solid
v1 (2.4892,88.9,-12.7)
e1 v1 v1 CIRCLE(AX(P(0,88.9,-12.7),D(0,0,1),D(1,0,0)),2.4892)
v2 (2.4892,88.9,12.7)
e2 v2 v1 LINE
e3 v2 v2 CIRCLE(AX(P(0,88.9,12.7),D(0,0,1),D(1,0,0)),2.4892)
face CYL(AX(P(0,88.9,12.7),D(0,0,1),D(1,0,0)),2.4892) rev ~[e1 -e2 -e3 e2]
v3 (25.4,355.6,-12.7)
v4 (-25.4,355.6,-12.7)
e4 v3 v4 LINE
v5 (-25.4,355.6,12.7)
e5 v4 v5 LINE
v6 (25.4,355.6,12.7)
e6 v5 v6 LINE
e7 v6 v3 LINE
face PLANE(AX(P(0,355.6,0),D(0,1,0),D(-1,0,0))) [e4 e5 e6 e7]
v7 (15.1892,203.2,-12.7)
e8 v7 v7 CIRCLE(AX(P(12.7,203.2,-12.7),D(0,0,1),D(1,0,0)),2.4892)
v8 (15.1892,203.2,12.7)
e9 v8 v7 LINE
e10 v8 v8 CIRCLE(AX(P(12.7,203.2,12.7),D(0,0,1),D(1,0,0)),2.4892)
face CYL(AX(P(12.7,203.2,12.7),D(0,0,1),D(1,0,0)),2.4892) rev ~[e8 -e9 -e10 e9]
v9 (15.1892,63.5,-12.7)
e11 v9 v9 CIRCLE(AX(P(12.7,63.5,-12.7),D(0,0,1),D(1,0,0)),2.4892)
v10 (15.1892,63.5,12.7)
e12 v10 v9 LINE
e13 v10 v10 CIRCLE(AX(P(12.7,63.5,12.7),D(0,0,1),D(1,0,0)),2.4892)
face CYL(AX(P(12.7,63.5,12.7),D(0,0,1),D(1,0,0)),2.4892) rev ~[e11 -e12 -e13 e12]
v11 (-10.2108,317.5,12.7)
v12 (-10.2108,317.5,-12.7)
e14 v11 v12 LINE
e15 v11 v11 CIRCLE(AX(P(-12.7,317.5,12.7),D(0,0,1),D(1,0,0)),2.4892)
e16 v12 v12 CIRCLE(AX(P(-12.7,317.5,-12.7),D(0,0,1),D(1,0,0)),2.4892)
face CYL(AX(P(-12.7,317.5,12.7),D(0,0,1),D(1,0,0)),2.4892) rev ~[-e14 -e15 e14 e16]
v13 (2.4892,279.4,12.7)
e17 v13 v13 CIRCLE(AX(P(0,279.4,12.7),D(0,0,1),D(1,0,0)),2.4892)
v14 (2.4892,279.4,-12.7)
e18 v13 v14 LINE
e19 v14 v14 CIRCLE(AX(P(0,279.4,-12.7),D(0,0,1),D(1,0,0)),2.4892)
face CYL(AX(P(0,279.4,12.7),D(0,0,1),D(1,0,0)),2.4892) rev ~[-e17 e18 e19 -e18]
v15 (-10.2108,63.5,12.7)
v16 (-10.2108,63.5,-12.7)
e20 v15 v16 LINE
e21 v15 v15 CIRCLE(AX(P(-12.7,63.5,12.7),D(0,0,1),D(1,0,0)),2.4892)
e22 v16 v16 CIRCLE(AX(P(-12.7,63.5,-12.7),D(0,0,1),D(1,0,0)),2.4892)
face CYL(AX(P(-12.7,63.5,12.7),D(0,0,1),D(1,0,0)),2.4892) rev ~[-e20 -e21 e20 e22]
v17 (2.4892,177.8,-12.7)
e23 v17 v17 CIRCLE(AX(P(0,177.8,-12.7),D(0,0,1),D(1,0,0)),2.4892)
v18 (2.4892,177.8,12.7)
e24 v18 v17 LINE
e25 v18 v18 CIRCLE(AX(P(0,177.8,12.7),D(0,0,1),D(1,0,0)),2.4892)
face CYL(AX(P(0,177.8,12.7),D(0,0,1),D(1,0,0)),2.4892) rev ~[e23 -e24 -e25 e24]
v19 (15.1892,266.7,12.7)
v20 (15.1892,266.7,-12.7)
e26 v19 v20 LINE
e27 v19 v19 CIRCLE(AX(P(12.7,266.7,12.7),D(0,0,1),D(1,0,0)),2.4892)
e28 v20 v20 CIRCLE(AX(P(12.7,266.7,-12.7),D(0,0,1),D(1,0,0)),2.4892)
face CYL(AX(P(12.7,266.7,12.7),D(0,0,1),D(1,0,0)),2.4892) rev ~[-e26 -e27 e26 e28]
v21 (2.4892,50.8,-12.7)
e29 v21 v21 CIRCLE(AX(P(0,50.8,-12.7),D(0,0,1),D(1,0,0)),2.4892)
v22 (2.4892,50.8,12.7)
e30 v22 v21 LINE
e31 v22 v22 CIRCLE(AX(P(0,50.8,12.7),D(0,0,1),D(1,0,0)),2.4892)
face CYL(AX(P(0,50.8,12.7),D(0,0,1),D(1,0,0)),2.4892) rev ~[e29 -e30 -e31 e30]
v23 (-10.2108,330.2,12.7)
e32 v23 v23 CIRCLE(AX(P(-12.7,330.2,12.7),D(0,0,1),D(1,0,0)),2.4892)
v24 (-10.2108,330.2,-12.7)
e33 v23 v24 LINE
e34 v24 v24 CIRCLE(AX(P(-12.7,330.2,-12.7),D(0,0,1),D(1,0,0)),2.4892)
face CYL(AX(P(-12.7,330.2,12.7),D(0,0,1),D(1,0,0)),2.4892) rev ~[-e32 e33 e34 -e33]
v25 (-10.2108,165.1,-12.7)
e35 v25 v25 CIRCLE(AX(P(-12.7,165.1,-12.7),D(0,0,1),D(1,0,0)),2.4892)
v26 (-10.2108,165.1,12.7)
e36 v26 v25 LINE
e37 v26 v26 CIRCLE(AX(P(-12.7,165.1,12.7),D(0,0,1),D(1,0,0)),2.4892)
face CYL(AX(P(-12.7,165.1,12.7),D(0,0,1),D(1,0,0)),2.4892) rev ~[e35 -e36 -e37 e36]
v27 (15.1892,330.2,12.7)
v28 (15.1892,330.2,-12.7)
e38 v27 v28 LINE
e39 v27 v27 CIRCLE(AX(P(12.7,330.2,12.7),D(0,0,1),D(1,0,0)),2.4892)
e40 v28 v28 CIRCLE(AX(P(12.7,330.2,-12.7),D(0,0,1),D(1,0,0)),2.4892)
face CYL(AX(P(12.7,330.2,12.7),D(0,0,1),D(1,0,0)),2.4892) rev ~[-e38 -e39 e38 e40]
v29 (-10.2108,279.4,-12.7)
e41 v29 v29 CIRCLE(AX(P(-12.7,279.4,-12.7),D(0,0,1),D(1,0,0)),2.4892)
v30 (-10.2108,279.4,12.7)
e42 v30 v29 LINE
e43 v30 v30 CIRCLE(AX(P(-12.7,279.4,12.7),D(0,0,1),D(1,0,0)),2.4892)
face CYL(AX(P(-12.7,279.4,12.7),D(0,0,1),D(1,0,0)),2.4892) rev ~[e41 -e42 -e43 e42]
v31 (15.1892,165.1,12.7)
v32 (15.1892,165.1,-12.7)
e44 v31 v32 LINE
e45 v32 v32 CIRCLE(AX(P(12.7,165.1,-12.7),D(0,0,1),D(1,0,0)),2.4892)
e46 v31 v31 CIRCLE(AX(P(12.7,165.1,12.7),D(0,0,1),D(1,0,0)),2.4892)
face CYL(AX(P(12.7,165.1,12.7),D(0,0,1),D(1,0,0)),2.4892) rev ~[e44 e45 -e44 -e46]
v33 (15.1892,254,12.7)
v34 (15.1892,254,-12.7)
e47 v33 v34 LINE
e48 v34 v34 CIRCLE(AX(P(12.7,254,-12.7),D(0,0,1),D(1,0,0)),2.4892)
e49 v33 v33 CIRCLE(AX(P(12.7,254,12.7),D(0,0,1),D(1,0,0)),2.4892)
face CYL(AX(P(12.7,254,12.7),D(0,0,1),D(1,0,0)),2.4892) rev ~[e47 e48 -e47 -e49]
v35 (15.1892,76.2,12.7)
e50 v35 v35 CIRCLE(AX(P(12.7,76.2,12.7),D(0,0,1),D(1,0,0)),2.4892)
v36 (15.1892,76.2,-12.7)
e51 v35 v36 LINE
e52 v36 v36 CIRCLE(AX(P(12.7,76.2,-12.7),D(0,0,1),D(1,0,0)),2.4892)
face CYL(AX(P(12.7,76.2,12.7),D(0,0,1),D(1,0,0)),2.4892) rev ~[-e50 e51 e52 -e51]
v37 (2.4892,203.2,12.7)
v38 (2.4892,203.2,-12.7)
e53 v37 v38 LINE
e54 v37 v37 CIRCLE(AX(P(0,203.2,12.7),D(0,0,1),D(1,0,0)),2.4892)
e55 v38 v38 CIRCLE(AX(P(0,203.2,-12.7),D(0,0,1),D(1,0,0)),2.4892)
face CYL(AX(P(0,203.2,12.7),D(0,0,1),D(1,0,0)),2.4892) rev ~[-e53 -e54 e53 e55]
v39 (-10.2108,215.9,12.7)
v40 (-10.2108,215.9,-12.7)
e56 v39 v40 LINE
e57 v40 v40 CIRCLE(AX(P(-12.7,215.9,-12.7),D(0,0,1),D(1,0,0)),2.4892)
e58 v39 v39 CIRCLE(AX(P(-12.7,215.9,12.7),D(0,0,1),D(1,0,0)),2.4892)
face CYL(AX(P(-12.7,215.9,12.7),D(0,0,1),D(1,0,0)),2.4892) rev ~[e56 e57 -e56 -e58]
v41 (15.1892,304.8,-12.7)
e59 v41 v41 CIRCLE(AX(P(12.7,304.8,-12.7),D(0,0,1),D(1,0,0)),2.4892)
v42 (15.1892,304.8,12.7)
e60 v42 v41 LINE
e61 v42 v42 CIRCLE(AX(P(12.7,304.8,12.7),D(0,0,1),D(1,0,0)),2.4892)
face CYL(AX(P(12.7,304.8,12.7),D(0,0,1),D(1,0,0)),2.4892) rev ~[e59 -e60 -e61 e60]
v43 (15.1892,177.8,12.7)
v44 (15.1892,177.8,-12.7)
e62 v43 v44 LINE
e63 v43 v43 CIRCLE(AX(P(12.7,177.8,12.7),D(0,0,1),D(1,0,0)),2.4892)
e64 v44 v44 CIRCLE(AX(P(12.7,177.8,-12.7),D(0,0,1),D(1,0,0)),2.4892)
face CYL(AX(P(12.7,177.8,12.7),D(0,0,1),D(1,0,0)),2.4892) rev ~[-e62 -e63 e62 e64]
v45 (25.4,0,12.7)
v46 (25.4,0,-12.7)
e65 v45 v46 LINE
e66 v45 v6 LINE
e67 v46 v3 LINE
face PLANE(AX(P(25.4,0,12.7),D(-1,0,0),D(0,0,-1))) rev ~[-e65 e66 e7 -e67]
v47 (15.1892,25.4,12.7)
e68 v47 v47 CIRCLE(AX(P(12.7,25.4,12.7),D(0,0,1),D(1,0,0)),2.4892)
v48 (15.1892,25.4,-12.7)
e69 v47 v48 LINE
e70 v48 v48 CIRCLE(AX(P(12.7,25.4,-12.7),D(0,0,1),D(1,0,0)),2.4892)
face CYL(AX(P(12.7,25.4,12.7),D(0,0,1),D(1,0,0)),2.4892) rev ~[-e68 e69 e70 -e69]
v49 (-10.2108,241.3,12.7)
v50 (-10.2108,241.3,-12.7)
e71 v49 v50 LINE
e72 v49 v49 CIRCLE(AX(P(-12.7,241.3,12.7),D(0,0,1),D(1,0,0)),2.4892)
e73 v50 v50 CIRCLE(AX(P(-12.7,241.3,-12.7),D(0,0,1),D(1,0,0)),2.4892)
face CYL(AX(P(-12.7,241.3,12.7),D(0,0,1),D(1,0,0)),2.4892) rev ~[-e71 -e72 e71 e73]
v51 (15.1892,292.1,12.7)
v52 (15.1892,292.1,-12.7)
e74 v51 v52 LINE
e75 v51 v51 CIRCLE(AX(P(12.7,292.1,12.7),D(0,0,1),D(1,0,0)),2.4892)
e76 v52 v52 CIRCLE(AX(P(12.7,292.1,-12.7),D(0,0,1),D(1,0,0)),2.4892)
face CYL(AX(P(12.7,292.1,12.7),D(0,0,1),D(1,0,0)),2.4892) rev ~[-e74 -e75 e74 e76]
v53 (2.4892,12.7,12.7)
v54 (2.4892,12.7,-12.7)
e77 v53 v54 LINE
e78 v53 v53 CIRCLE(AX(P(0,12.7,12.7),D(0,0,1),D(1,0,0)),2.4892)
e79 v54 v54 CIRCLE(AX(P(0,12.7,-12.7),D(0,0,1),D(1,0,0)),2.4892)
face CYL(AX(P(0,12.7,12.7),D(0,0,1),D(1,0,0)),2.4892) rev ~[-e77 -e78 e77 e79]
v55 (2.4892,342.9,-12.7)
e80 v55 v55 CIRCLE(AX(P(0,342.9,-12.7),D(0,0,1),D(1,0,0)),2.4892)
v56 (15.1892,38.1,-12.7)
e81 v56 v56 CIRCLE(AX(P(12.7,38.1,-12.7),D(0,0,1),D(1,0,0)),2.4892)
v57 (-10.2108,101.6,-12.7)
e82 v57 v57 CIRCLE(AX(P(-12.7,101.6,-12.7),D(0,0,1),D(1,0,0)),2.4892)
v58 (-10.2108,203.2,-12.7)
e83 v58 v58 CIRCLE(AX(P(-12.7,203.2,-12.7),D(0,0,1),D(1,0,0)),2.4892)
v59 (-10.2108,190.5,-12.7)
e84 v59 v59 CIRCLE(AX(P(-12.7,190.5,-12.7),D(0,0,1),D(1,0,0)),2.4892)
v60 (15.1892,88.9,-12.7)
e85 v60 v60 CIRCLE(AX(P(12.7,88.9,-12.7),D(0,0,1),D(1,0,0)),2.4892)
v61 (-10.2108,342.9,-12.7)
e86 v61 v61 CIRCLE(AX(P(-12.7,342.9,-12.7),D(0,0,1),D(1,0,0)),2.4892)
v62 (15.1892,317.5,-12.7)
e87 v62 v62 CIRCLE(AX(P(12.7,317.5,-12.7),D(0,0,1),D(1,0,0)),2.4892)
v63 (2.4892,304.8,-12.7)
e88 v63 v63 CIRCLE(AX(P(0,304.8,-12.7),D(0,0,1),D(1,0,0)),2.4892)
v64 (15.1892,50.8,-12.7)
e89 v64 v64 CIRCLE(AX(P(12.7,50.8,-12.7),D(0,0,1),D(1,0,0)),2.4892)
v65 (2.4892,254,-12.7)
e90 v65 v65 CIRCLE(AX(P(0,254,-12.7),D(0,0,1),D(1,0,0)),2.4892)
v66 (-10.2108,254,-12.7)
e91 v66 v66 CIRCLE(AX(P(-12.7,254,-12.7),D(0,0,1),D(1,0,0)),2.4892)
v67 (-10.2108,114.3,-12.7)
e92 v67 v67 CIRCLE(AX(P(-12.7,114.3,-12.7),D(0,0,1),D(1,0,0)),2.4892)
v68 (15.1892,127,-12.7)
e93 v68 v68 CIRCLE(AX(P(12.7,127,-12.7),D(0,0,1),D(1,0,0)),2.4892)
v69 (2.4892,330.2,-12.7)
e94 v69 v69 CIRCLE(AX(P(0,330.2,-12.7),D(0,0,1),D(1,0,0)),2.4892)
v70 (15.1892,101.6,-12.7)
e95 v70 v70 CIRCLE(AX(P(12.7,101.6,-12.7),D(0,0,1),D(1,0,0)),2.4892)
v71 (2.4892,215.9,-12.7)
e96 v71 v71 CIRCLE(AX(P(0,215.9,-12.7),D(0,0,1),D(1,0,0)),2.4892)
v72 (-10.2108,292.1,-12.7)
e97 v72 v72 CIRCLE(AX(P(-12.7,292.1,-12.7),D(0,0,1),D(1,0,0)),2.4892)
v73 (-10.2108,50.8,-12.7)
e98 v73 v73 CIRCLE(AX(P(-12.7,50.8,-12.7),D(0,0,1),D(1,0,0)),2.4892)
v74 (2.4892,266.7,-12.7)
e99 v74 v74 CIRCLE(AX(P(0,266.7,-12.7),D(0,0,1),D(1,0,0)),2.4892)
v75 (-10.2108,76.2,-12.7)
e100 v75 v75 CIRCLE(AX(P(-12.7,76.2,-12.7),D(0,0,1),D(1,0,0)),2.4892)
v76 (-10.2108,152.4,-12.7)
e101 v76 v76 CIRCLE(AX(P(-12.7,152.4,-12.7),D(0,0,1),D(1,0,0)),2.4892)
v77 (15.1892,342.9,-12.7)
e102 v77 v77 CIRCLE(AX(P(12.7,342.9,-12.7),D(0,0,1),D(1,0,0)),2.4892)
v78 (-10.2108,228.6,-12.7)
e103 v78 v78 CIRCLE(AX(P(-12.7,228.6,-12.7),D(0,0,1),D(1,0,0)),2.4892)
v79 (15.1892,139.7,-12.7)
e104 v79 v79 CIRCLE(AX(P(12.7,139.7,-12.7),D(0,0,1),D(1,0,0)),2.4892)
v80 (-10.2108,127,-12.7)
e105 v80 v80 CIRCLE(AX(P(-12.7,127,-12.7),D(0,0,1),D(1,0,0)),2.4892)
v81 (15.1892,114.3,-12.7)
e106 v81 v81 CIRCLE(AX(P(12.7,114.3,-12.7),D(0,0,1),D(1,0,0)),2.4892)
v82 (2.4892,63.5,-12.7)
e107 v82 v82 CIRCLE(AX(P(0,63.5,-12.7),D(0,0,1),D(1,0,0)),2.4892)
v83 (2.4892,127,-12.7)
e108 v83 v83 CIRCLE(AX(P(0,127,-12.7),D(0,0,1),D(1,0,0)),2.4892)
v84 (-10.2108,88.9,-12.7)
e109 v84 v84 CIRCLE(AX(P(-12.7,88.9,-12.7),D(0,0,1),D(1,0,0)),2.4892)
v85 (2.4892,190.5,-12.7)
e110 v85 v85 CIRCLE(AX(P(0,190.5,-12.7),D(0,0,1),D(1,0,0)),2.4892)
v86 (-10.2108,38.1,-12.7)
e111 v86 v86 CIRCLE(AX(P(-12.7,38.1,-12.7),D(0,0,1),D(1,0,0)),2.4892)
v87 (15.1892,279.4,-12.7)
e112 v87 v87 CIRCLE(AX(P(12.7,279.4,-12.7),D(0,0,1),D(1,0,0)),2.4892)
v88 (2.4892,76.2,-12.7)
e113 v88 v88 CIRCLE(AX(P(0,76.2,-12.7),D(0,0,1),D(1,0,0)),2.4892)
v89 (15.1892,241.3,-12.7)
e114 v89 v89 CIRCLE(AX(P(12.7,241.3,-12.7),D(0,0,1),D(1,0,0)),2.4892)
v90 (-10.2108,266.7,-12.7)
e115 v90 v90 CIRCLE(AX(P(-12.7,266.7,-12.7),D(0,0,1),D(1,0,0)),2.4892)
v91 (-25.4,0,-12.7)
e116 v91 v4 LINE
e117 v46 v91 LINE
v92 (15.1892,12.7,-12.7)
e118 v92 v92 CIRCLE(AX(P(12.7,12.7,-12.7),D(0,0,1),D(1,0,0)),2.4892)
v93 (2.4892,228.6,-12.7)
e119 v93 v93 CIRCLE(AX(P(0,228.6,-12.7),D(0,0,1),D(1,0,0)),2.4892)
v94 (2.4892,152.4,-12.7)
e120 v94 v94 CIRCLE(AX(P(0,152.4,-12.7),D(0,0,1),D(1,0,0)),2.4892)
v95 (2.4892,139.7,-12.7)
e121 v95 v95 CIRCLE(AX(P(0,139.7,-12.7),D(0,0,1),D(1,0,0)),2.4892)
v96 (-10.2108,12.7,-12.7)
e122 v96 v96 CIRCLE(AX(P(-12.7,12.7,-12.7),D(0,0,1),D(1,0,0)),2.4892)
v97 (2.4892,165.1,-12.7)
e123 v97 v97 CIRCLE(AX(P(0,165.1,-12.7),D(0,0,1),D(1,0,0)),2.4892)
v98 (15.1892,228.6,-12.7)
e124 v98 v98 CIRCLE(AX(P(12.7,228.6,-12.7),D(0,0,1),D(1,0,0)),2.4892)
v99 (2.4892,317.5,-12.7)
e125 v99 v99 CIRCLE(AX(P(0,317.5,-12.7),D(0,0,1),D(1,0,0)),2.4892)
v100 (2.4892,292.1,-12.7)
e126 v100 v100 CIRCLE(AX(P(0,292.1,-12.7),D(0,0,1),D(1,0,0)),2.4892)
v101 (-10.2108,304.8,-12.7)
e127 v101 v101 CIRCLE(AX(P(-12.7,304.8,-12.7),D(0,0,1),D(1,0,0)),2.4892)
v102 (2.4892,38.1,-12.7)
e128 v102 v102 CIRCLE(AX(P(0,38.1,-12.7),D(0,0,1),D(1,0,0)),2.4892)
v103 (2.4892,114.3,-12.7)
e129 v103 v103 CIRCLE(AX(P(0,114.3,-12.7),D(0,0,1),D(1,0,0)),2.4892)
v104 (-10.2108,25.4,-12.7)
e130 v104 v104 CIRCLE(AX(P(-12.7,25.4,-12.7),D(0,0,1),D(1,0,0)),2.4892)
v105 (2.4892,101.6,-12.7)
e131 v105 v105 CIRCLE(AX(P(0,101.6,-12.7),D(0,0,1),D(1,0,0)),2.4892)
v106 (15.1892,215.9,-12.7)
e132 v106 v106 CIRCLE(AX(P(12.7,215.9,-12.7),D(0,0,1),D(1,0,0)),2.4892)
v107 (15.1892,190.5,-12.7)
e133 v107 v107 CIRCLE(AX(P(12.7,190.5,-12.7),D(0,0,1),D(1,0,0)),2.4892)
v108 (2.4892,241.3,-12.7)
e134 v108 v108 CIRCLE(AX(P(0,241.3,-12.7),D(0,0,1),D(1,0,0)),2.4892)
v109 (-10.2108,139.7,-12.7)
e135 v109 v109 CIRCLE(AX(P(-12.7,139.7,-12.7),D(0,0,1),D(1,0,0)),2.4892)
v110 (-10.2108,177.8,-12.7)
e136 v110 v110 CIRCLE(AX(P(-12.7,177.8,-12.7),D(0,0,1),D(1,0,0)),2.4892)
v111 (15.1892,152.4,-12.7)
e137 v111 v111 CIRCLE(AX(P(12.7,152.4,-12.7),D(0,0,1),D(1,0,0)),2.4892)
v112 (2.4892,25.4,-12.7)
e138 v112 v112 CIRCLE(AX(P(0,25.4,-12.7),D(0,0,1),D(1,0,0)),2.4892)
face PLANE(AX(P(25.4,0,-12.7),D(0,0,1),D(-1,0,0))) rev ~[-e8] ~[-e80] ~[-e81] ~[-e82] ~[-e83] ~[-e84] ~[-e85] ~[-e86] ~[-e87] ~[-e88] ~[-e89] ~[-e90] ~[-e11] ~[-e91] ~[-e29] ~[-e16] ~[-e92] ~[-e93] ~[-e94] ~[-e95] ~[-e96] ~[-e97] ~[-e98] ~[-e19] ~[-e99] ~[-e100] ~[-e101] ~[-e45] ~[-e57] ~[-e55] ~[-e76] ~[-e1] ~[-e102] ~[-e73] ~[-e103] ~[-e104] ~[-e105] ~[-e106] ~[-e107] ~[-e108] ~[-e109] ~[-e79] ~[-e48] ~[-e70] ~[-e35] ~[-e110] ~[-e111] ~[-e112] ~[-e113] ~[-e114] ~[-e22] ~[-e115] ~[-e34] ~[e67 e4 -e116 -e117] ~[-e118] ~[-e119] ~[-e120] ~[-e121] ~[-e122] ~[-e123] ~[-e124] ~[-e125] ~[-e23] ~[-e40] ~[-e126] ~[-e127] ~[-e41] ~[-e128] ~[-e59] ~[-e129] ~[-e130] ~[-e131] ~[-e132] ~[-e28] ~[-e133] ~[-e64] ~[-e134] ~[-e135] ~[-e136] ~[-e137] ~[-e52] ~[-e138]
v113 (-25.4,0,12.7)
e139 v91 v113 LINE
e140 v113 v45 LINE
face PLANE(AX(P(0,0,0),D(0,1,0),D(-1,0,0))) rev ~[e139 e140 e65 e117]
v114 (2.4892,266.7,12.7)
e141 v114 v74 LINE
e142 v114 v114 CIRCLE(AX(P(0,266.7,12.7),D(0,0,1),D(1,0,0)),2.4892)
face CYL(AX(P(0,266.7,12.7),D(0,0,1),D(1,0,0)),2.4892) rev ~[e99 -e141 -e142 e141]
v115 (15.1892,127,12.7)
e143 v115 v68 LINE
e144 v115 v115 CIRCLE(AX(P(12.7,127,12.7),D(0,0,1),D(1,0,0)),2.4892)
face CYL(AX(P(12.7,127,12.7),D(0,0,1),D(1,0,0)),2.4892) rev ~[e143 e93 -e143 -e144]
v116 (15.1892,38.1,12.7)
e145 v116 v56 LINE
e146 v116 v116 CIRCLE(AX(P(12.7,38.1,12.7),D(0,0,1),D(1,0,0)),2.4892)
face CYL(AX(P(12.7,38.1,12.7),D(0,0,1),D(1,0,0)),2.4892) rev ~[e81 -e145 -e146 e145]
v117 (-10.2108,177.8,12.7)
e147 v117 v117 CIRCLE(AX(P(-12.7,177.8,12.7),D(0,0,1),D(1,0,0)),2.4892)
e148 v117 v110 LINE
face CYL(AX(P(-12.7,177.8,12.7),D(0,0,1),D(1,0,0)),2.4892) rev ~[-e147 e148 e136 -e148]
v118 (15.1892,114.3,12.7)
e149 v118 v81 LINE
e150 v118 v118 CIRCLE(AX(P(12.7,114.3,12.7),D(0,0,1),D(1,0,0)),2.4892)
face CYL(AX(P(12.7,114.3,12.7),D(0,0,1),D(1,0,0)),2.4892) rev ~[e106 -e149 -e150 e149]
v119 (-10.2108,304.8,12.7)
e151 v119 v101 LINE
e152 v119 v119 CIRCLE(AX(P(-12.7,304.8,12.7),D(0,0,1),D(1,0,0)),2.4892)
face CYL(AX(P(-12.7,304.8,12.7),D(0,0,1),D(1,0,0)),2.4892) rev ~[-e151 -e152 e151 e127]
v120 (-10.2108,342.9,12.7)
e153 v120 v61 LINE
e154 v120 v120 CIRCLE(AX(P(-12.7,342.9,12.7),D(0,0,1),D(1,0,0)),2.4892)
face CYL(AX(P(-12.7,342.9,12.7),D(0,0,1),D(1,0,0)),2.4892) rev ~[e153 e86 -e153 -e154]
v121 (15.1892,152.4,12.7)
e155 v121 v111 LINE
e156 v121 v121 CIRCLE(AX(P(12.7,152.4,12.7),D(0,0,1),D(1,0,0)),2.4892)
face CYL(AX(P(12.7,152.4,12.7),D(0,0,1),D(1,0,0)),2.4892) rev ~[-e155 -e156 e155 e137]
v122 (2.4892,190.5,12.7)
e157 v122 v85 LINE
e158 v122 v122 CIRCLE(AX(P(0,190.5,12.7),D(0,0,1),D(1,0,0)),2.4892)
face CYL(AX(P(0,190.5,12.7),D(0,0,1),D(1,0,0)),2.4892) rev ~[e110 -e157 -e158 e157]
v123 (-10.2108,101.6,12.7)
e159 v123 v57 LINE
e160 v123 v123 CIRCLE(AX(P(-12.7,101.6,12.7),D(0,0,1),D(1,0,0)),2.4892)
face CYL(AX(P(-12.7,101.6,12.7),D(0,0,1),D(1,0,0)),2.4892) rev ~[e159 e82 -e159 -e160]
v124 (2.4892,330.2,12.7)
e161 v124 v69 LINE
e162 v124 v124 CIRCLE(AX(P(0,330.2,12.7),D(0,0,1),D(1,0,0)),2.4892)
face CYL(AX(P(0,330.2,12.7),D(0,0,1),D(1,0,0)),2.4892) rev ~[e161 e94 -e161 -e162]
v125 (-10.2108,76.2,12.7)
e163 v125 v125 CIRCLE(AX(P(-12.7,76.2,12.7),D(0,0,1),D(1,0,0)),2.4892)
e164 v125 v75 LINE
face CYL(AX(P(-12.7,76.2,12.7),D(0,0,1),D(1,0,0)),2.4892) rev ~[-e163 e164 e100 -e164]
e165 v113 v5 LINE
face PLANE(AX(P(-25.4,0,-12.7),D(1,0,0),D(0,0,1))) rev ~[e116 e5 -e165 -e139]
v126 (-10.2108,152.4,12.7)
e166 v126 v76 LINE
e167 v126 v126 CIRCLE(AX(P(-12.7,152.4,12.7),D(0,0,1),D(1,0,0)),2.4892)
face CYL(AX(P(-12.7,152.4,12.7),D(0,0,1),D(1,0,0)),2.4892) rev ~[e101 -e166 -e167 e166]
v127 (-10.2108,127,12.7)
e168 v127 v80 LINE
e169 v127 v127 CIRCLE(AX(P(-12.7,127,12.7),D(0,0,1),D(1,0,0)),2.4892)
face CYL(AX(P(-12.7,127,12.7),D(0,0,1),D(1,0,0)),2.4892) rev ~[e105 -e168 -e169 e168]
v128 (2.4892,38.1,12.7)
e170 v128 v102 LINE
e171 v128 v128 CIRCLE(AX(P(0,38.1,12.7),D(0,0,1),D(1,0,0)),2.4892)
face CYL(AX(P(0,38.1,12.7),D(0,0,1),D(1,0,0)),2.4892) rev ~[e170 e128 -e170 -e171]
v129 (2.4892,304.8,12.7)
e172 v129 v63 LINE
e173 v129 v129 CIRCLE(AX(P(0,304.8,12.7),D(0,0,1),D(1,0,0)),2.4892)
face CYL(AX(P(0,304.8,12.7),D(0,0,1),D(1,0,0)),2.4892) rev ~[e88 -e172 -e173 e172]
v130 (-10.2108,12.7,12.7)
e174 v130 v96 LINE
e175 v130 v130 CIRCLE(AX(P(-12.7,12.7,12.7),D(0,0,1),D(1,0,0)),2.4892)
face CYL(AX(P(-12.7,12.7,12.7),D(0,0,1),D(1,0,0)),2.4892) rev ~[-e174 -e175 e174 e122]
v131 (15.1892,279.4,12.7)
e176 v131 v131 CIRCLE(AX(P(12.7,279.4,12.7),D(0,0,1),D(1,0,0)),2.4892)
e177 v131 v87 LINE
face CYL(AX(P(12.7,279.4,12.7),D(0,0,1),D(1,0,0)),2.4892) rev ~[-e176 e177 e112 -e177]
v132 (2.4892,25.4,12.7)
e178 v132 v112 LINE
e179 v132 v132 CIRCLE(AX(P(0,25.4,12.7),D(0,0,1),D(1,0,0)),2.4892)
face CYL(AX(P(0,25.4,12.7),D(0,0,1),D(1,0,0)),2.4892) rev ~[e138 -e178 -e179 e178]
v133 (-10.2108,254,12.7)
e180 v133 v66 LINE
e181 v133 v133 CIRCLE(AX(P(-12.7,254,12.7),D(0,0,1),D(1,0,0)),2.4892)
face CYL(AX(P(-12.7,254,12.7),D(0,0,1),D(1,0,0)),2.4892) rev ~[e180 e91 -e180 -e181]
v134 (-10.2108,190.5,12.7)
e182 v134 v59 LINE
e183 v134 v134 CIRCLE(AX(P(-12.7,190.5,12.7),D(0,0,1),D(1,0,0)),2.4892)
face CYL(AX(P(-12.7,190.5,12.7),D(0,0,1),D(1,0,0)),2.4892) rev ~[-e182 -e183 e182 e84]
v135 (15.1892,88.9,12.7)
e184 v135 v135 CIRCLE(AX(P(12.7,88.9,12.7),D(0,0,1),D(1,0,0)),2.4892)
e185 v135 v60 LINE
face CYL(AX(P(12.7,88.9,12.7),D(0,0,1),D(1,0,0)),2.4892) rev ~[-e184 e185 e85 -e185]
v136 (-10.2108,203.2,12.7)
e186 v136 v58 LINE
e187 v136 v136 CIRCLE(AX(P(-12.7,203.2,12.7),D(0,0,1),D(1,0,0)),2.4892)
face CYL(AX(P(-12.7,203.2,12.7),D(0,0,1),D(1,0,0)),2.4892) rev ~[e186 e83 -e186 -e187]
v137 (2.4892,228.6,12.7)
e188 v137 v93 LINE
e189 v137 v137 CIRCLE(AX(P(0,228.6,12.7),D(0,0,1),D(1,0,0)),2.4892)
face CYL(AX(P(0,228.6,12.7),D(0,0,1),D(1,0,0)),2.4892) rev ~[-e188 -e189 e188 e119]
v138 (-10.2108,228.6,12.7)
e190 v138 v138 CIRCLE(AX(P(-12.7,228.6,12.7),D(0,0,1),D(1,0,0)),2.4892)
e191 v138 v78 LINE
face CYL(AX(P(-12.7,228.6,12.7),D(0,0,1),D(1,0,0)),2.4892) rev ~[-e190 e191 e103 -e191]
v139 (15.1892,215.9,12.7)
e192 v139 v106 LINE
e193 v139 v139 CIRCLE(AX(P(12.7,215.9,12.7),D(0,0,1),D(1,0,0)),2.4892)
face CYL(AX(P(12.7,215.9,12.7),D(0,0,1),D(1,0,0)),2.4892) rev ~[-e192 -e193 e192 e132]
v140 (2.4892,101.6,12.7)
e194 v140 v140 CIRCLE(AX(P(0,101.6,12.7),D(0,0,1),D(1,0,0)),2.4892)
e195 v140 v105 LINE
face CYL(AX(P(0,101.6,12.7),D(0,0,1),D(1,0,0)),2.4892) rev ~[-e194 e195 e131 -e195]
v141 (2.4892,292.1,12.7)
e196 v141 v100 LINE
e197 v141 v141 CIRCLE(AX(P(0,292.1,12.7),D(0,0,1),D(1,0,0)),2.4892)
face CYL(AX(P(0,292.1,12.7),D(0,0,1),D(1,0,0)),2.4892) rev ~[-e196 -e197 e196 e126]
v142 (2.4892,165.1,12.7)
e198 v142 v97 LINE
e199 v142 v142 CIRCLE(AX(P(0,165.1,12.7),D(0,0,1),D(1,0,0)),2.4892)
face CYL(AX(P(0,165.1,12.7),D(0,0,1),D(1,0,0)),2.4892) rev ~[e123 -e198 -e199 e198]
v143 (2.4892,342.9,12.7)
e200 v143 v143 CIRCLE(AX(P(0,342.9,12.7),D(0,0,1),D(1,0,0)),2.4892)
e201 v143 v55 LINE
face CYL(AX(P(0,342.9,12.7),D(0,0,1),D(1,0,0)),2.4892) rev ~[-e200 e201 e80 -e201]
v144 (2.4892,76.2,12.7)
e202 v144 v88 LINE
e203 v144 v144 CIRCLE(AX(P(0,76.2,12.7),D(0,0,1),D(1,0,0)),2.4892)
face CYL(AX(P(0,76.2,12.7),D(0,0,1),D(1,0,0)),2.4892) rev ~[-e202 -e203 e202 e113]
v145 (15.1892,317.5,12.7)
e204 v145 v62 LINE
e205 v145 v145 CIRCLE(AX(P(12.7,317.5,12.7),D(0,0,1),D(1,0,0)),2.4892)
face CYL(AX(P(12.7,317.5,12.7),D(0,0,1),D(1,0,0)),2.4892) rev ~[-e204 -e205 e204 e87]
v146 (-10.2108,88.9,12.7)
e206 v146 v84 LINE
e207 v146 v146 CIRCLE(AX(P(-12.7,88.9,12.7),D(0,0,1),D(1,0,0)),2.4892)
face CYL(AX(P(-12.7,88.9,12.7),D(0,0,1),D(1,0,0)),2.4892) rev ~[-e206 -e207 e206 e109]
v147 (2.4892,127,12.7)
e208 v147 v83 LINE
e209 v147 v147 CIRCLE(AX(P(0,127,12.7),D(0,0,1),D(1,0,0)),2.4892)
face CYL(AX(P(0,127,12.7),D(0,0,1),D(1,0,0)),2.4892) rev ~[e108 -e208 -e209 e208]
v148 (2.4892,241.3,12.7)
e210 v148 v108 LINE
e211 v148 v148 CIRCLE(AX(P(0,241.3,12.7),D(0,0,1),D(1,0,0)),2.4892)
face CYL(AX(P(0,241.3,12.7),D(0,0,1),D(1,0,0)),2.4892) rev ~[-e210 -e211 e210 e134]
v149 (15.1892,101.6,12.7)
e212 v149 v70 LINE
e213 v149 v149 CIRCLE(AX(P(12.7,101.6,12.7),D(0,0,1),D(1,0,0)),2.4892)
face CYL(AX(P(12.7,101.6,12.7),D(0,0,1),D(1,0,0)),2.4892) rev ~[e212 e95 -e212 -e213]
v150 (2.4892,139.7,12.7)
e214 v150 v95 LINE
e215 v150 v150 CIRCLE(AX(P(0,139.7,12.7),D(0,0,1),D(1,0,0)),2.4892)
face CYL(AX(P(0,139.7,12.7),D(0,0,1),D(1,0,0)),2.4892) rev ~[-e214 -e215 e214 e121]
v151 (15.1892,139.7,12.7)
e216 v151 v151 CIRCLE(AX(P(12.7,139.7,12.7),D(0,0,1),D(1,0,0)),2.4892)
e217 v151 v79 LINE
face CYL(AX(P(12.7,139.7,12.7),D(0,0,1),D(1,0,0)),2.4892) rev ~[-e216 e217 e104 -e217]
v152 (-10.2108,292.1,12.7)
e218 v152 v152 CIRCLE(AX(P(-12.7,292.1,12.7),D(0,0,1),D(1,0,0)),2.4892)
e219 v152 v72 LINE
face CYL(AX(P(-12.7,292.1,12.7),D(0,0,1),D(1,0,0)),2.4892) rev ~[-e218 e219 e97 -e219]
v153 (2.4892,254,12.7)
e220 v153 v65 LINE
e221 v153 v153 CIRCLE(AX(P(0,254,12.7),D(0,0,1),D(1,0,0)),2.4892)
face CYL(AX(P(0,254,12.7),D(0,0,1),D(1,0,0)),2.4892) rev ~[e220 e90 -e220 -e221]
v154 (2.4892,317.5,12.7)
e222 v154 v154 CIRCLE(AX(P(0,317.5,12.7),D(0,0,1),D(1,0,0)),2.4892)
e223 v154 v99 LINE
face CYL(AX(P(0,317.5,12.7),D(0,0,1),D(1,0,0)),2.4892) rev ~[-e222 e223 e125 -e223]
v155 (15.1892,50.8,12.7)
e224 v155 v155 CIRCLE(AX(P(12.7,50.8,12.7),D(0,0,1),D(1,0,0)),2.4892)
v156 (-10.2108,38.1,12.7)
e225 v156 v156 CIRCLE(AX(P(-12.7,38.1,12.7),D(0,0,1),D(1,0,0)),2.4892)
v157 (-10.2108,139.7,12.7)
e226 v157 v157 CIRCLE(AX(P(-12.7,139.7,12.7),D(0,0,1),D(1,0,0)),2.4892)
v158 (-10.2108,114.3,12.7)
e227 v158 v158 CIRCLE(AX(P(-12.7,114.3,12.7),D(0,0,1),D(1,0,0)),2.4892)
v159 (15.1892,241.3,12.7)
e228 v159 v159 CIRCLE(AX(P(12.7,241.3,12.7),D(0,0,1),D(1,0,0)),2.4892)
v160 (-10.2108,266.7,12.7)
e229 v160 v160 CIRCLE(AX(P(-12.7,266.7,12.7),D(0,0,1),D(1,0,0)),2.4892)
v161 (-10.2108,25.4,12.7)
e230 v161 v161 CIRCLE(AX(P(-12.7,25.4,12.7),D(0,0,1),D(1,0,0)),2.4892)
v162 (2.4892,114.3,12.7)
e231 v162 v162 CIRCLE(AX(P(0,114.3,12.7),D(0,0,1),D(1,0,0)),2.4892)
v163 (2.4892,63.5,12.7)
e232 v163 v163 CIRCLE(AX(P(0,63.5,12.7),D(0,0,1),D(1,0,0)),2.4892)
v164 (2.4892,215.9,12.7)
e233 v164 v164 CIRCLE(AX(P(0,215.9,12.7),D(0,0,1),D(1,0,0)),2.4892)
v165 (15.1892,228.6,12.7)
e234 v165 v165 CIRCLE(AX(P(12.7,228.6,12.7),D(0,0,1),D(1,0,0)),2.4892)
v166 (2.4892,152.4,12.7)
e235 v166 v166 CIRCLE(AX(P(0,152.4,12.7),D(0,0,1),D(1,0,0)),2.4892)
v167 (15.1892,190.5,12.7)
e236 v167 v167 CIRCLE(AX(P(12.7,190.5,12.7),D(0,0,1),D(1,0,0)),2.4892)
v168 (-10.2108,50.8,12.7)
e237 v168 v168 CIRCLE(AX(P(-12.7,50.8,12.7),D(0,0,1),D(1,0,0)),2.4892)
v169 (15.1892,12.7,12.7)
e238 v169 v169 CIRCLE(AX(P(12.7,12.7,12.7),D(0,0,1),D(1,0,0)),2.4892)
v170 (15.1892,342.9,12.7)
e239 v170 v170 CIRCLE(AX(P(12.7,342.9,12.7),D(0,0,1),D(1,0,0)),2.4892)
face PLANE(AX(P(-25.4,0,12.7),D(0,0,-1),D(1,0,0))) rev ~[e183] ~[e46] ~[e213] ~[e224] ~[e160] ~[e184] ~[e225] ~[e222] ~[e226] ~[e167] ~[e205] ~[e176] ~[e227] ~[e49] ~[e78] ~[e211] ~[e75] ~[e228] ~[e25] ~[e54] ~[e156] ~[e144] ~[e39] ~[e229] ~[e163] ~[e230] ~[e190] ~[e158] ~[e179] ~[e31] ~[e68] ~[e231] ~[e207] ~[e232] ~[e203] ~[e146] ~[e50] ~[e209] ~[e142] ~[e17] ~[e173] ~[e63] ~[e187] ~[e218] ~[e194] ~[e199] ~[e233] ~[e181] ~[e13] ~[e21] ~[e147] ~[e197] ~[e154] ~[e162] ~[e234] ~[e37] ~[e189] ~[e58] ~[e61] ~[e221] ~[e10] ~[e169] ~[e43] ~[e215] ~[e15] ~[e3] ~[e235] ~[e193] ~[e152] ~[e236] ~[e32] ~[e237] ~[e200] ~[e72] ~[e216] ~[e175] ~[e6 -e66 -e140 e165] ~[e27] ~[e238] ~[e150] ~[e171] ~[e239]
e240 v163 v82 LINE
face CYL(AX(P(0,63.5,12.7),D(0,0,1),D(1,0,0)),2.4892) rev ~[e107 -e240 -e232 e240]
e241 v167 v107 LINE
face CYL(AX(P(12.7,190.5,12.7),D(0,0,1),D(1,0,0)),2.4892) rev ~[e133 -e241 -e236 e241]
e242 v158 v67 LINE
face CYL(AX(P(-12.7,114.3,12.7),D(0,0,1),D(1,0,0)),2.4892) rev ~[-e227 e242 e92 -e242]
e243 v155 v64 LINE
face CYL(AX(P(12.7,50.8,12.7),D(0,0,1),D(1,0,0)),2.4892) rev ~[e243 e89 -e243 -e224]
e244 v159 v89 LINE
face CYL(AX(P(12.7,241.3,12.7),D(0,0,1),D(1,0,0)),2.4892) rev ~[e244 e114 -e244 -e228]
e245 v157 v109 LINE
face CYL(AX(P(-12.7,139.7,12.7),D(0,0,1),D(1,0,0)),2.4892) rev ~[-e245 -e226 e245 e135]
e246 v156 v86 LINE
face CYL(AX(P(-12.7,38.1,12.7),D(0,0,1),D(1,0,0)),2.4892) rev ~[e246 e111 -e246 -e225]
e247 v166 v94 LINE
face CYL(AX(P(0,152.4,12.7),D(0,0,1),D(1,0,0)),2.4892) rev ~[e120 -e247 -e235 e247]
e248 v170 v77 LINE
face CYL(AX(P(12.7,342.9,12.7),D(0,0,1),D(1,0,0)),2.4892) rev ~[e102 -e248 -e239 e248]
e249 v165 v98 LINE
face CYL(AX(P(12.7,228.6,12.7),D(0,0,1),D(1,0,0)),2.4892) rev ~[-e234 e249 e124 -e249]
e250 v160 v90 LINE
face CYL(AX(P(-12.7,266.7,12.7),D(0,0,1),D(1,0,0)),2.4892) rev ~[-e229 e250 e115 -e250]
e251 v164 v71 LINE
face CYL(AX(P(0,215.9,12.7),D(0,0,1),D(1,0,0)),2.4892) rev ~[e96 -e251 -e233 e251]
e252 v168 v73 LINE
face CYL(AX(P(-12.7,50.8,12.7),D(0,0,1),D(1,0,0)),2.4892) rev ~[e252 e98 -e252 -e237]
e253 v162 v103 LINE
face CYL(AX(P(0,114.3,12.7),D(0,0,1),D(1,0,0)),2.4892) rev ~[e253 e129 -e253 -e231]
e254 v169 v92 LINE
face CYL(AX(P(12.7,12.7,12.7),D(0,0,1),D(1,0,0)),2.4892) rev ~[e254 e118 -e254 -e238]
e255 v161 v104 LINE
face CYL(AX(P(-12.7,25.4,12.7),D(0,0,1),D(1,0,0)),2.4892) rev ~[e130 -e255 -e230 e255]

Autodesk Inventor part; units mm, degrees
ref_plane "YZ Plane" through (0, 0, 0) normal (1, 0, 0) x (0, 1, 0)
ref_plane "XZ Plane" through (0, 0, 0) normal (0, 1, 0) x (-1, 0, 0)
ref_plane "XY Plane" through (0, 0, 0) normal (0, 0, 1) x (1, 0, 0)
sketch "Sketch1" plane through (0, 0, 0) normal (0, 1, 0) x (-1, 0, 0)
  line L0 (25.4, 12.7) -> (-25.4, 12.7)
  line L1 (-25.4, 12.7) -> (-25.4, -12.7)
  line L2 (-25.4, -12.7) -> (25.4, -12.7)
  line L3 (25.4, -12.7) -> (25.4, 12.7)
  line L4 (25.4, 12.7) -> (-25.4, -12.7) construction
  line L5 (-25.4, 12.7) -> (25.4, -12.7) construction
  point P0 (0, 0)
  dimension "d0" = 50.8
  dimension "d1" = 25.4
extrude "Extrusion1" add sketch "Sketch1" along normal blind 355.6
sketch "Sketch2" plane through (-25.4, 0, 12.7) normal (0, 0, 1) x (1, 0, 0)
  circle A0 centre (12.7, 12.7) radius 2.4892
  line L0 (0, 0) -> (0, 355.6) projected
  line L1 (0, 0) -> (50.8, 0) projected
  circle A1 centre (25.4, 12.7) radius 2.4892
  circle A2 centre (38.1, 12.7) radius 2.4892
  circle A3 centre (12.7, 25.4) radius 2.4892
  circle A4 centre (25.4, 25.4) radius 2.4892
  circle A5 centre (38.1, 25.4) radius 2.4892
  circle A6 centre (12.7, 38.1) radius 2.4892
  circle A7 centre (25.4, 38.1) radius 2.4892
  circle A8 centre (38.1, 38.1) radius 2.4892
  circle A9 centre (12.7, 50.8) radius 2.4892
  circle A10 centre (25.4, 50.8) radius 2.4892
  circle A11 centre (38.1, 50.8) radius 2.4892
  circle A12 centre (12.7, 63.5) radius 2.4892
  circle A13 centre (25.4, 63.5) radius 2.4892
  circle A14 centre (38.1, 63.5) radius 2.4892
  circle A15 centre (12.7, 76.2) radius 2.4892
  circle A16 centre (25.4, 76.2) radius 2.4892
  circle A17 centre (38.1, 76.2) radius 2.4892
  circle A18 centre (12.7, 88.9) radius 2.4892
  circle A19 centre (25.4, 88.9) radius 2.4892
  circle A20 centre (38.1, 88.9) radius 2.4892
  circle A21 centre (12.7, 101.6) radius 2.4892
  circle A22 centre (25.4, 101.6) radius 2.4892
  circle A23 centre (38.1, 101.6) radius 2.4892
  circle A24 centre (12.7, 114.3) radius 2.4892
  circle A25 centre (25.4, 114.3) radius 2.4892
  circle A26 centre (38.1, 114.3) radius 2.4892
  circle A27 centre (12.7, 127) radius 2.4892
  circle A28 centre (25.4, 127) radius 2.4892
  circle A29 centre (38.1, 127) radius 2.4892
  circle A30 centre (12.7, 139.7) radius 2.4892
  circle A31 centre (25.4, 139.7) radius 2.4892
  circle A32 centre (38.1, 139.7) radius 2.4892
  circle A33 centre (12.7, 152.4) radius 2.4892
  circle A34 centre (25.4, 152.4) radius 2.4892
  circle A35 centre (38.1, 152.4) radius 2.4892
  circle A36 centre (12.7, 165.1) radius 2.4892
  circle A37 centre (25.4, 165.1) radius 2.4892
  circle A38 centre (38.1, 165.1) radius 2.4892
  circle A39 centre (12.7, 177.8) radius 2.4892
  circle A40 centre (25.4, 177.8) radius 2.4892
  circle A41 centre (38.1, 177.8) radius 2.4892
  circle A42 centre (12.7, 190.5) radius 2.4892
  circle A43 centre (25.4, 190.5) radius 2.4892
  circle A44 centre (38.1, 190.5) radius 2.4892
  circle A45 centre (12.7, 203.2) radius 2.4892
  circle A46 centre (25.4, 203.2) radius 2.4892
  circle A47 centre (38.1, 203.2) radius 2.4892
  circle A48 centre (12.7, 215.9) radius 2.4892
  circle A49 centre (25.4, 215.9) radius 2.4892
  circle A50 centre (38.1, 215.9) radius 2.4892
  circle A51 centre (12.7, 228.6) radius 2.4892
  circle A52 centre (25.4, 228.6) radius 2.4892
  circle A53 centre (38.1, 228.6) radius 2.4892
  circle A54 centre (12.7, 241.3) radius 2.4892
  circle A55 centre (25.4, 241.3) radius 2.4892
  circle A56 centre (38.1, 241.3) radius 2.4892
  circle A57 centre (12.7, 254) radius 2.4892
  circle A58 centre (25.4, 254) radius 2.4892
  circle A59 centre (38.1, 254) radius 2.4892
  circle A60 centre (12.7, 266.7) radius 2.4892
  circle A61 centre (25.4, 266.7) radius 2.4892
  circle A62 centre (38.1, 266.7) radius 2.4892
  circle A63 centre (12.7, 279.4) radius 2.4892
  circle A64 centre (25.4, 279.4) radius 2.4892
  circle A65 centre (38.1, 279.4) radius 2.4892
  circle A66 centre (12.7, 292.1) radius 2.4892
  circle A67 centre (25.4, 292.1) radius 2.4892
  circle A68 centre (38.1, 292.1) radius 2.4892
  circle A69 centre (12.7, 304.8) radius 2.4892
  circle A70 centre (25.4, 304.8) radius 2.4892
  circle A71 centre (38.1, 304.8) radius 2.4892
  circle A72 centre (12.7, 317.5) radius 2.4892
  circle A73 centre (25.4, 317.5) radius 2.4892
  circle A74 centre (38.1, 317.5) radius 2.4892
  circle A75 centre (12.7, 330.2) radius 2.4892
  circle A76 centre (25.4, 330.2) radius 2.4892
  circle A77 centre (38.1, 330.2) radius 2.4892
  circle A78 centre (12.7, 342.9) radius 2.4892
  circle A79 centre (25.4, 342.9) radius 2.4892
  circle A80 centre (38.1, 342.9) radius 2.4892
  point P0 (25.4, 0)
  dimension "d4" = 4.9784
  dimension "d5" = 12.7
  dimension "d6" = 12.7
  dimension "d9" = 12.7
  dimension "d12" = 12.7
extrude "Extrusion2" cut sketch "Sketch2" against normal blind 355.6
sketch "Sketch3" plane through (-25.4, 0, 12.7) normal (0, 0, 1) x (1, 0, 0)
  circle A0 centre (38.1, 342.9) radius 2.4892 projected
  circle A1 centre (12.7, 317.5) radius 2.4892 projected
  circle A2 centre (12.7, 292.1) radius 2.4892 projected
  circle A3 centre (38.1, 266.7) radius 2.4892 projected
  circle A4 centre (25.4, 304.8) radius 2.4892 projected
  circle A5 centre (12.7, 241.3) radius 2.4892 projected
  circle A6 centre (38.1, 215.9) radius 2.4892 projected
  circle A7 centre (38.1, 254) radius 2.4892 projected
  circle A8 centre (25.4, 203.2) radius 2.4892 projected
  circle A9 centre (38.1, 177.8) radius 2.4892 projected
  circle A10 centre (38.1, 165.1) radius 2.4892 projected
  circle A11 centre (12.7, 165.1) radius 2.4892 projected
  circle A12 centre (25.4, 127) radius 2.4892 projected
  circle A13 centre (38.1, 114.3) radius 2.4892 projected
  circle A14 centre (12.7, 88.9) radius 2.4892 projected
  circle A15 centre (25.4, 101.6) radius 2.4892 projected
  circle A16 centre (38.1, 63.5) radius 2.4892 projected
  circle A17 centre (12.7, 50.8) radius 2.4892 projected
  circle A18 centre (38.1, 12.7) radius 2.4892 projected
  circle A19 centre (12.7, 38.1) radius 2.4892 projected
  circle A20 centre (25.4, 38.1) radius 2.4892 projected
  circle A21 centre (25.4, 12.7) radius 2.4892 projected
  circle A22 centre (12.7, 63.5) radius 2.4892 projected
  circle A23 centre (38.1, 50.8) radius 2.4892 projected
  circle A24 centre (38.1, 101.6) radius 2.4892 projected
  circle A25 centre (12.7, 76.2) radius 2.4892 projected
  circle A26 centre (25.4, 114.3) radius 2.4892 projected
  circle A27 centre (25.4, 139.7) radius 2.4892 projected
  circle A28 centre (12.7, 152.4) radius 2.4892 projected
  circle A29 centre (38.1, 152.4) radius 2.4892 projected
  circle A30 centre (25.4, 177.8) radius 2.4892 projected
  circle A31 centre (38.1, 203.2) radius 2.4892 projected
  circle A32 centre (25.4, 254) radius 2.4892 projected
  circle A33 centre (38.1, 228.6) radius 2.4892 projected
  circle A34 centre (12.7, 228.6) radius 2.4892 projected
  circle A35 centre (38.1, 292.1) radius 2.4892 projected
  circle A36 centre (25.4, 279.4) radius 2.4892 projected
  circle A37 centre (12.7, 279.4) radius 2.4892 projected
  circle A38 centre (25.4, 317.5) radius 2.4892 projected
  circle A39 centre (12.7, 330.2) radius 2.4892 projected
  circle A40 centre (25.4, 342.9) radius 2.4892 projected
  circle A41 centre (38.1, 330.2) radius 2.4892 projected
  circle A42 centre (12.7, 304.8) radius 2.4892 projected
  circle A43 centre (25.4, 266.7) radius 2.4892 projected
  circle A44 centre (25.4, 292.1) radius 2.4892 projected
  circle A45 centre (12.7, 254) radius 2.4892 projected
  circle A46 centre (25.4, 215.9) radius 2.4892 projected
  circle A47 centre (38.1, 241.3) radius 2.4892 projected
  circle A48 centre (12.7, 203.2) radius 2.4892 projected
  circle A49 centre (25.4, 190.5) radius 2.4892 projected
  circle A50 centre (38.1, 190.5) radius 2.4892 projected
  circle A51 centre (25.4, 152.4) radius 2.4892 projected
  circle A52 centre (12.7, 127) radius 2.4892 projected
  circle A53 centre (38.1, 127) radius 2.4892 projected
  circle A54 centre (12.7, 101.6) radius 2.4892 projected
  circle A55 centre (25.4, 88.9) radius 2.4892 projected
  circle A56 centre (38.1, 76.2) radius 2.4892 projected
  circle A57 centre (25.4, 63.5) radius 2.4892 projected
  circle A58 centre (38.1, 25.4) radius 2.4892 projected
  circle A59 centre (12.7, 25.4) radius 2.4892 projected
  circle A60 centre (25.4, 25.4) radius 2.4892 projected
  circle A61 centre (12.7, 12.7) radius 2.4892 projected
  circle A62 centre (38.1, 38.1) radius 2.4892 projected
  circle A63 centre (25.4, 50.8) radius 2.4892 projected
  circle A64 centre (38.1, 88.9) radius 2.4892 projected
  circle A65 centre (25.4, 76.2) radius 2.4892 projected
  circle A66 centre (12.7, 114.3) radius 2.4892 projected
  circle A67 centre (38.1, 139.7) radius 2.4892 projected
  circle A68 centre (12.7, 139.7) radius 2.4892 projected
  circle A69 centre (25.4, 165.1) radius 2.4892 projected
  circle A70 centre (12.7, 177.8) radius 2.4892 projected
  circle A71 centre (12.7, 190.5) radius 2.4892 projected
  circle A72 centre (25.4, 228.6) radius 2.4892 projected
  circle A73 centre (25.4, 241.3) radius 2.4892 projected
  circle A74 centre (12.7, 215.9) radius 2.4892 projected
  circle A75 centre (38.1, 304.8) radius 2.4892 projected
  circle A76 centre (38.1, 279.4) radius 2.4892 projected
  circle A77 centre (12.7, 266.7) radius 2.4892 projected
  circle A78 centre (38.1, 317.5) radius 2.4892 projected
  circle A79 centre (25.4, 330.2) radius 2.4892 projected
  circle A80 centre (12.7, 342.9) radius 2.4892 projected
  line L0 (0, 0) -> (50.8, 0) projected
  line L1 (50.8, 0) -> (50.8, 355.6) projected
  line L2 (0, 355.6) -> (50.8, 355.6) projected
  line L3 (0, 0) -> (0, 355.6) projected
  circle A81 centre (76.1238, 254) radius 14.2748
  circle A82 centre (-25.2476, 254) radius 14.2748
  circle A83 centre (-25.2476, 107.95) radius 14.2748
  point P0 (25.4, 0)
  dimension "d17" = 28.5496
  dimension "d18" = 101.6
  dimension "d19" = 28.5496
  dimension "d20" = 101.6
  dimension "d21" = 101.3714
  dimension "d22" = 25.2476
  dimension "d23" = 28.5496
  dimension "d24" = 146.05
properties part number "shooter"
